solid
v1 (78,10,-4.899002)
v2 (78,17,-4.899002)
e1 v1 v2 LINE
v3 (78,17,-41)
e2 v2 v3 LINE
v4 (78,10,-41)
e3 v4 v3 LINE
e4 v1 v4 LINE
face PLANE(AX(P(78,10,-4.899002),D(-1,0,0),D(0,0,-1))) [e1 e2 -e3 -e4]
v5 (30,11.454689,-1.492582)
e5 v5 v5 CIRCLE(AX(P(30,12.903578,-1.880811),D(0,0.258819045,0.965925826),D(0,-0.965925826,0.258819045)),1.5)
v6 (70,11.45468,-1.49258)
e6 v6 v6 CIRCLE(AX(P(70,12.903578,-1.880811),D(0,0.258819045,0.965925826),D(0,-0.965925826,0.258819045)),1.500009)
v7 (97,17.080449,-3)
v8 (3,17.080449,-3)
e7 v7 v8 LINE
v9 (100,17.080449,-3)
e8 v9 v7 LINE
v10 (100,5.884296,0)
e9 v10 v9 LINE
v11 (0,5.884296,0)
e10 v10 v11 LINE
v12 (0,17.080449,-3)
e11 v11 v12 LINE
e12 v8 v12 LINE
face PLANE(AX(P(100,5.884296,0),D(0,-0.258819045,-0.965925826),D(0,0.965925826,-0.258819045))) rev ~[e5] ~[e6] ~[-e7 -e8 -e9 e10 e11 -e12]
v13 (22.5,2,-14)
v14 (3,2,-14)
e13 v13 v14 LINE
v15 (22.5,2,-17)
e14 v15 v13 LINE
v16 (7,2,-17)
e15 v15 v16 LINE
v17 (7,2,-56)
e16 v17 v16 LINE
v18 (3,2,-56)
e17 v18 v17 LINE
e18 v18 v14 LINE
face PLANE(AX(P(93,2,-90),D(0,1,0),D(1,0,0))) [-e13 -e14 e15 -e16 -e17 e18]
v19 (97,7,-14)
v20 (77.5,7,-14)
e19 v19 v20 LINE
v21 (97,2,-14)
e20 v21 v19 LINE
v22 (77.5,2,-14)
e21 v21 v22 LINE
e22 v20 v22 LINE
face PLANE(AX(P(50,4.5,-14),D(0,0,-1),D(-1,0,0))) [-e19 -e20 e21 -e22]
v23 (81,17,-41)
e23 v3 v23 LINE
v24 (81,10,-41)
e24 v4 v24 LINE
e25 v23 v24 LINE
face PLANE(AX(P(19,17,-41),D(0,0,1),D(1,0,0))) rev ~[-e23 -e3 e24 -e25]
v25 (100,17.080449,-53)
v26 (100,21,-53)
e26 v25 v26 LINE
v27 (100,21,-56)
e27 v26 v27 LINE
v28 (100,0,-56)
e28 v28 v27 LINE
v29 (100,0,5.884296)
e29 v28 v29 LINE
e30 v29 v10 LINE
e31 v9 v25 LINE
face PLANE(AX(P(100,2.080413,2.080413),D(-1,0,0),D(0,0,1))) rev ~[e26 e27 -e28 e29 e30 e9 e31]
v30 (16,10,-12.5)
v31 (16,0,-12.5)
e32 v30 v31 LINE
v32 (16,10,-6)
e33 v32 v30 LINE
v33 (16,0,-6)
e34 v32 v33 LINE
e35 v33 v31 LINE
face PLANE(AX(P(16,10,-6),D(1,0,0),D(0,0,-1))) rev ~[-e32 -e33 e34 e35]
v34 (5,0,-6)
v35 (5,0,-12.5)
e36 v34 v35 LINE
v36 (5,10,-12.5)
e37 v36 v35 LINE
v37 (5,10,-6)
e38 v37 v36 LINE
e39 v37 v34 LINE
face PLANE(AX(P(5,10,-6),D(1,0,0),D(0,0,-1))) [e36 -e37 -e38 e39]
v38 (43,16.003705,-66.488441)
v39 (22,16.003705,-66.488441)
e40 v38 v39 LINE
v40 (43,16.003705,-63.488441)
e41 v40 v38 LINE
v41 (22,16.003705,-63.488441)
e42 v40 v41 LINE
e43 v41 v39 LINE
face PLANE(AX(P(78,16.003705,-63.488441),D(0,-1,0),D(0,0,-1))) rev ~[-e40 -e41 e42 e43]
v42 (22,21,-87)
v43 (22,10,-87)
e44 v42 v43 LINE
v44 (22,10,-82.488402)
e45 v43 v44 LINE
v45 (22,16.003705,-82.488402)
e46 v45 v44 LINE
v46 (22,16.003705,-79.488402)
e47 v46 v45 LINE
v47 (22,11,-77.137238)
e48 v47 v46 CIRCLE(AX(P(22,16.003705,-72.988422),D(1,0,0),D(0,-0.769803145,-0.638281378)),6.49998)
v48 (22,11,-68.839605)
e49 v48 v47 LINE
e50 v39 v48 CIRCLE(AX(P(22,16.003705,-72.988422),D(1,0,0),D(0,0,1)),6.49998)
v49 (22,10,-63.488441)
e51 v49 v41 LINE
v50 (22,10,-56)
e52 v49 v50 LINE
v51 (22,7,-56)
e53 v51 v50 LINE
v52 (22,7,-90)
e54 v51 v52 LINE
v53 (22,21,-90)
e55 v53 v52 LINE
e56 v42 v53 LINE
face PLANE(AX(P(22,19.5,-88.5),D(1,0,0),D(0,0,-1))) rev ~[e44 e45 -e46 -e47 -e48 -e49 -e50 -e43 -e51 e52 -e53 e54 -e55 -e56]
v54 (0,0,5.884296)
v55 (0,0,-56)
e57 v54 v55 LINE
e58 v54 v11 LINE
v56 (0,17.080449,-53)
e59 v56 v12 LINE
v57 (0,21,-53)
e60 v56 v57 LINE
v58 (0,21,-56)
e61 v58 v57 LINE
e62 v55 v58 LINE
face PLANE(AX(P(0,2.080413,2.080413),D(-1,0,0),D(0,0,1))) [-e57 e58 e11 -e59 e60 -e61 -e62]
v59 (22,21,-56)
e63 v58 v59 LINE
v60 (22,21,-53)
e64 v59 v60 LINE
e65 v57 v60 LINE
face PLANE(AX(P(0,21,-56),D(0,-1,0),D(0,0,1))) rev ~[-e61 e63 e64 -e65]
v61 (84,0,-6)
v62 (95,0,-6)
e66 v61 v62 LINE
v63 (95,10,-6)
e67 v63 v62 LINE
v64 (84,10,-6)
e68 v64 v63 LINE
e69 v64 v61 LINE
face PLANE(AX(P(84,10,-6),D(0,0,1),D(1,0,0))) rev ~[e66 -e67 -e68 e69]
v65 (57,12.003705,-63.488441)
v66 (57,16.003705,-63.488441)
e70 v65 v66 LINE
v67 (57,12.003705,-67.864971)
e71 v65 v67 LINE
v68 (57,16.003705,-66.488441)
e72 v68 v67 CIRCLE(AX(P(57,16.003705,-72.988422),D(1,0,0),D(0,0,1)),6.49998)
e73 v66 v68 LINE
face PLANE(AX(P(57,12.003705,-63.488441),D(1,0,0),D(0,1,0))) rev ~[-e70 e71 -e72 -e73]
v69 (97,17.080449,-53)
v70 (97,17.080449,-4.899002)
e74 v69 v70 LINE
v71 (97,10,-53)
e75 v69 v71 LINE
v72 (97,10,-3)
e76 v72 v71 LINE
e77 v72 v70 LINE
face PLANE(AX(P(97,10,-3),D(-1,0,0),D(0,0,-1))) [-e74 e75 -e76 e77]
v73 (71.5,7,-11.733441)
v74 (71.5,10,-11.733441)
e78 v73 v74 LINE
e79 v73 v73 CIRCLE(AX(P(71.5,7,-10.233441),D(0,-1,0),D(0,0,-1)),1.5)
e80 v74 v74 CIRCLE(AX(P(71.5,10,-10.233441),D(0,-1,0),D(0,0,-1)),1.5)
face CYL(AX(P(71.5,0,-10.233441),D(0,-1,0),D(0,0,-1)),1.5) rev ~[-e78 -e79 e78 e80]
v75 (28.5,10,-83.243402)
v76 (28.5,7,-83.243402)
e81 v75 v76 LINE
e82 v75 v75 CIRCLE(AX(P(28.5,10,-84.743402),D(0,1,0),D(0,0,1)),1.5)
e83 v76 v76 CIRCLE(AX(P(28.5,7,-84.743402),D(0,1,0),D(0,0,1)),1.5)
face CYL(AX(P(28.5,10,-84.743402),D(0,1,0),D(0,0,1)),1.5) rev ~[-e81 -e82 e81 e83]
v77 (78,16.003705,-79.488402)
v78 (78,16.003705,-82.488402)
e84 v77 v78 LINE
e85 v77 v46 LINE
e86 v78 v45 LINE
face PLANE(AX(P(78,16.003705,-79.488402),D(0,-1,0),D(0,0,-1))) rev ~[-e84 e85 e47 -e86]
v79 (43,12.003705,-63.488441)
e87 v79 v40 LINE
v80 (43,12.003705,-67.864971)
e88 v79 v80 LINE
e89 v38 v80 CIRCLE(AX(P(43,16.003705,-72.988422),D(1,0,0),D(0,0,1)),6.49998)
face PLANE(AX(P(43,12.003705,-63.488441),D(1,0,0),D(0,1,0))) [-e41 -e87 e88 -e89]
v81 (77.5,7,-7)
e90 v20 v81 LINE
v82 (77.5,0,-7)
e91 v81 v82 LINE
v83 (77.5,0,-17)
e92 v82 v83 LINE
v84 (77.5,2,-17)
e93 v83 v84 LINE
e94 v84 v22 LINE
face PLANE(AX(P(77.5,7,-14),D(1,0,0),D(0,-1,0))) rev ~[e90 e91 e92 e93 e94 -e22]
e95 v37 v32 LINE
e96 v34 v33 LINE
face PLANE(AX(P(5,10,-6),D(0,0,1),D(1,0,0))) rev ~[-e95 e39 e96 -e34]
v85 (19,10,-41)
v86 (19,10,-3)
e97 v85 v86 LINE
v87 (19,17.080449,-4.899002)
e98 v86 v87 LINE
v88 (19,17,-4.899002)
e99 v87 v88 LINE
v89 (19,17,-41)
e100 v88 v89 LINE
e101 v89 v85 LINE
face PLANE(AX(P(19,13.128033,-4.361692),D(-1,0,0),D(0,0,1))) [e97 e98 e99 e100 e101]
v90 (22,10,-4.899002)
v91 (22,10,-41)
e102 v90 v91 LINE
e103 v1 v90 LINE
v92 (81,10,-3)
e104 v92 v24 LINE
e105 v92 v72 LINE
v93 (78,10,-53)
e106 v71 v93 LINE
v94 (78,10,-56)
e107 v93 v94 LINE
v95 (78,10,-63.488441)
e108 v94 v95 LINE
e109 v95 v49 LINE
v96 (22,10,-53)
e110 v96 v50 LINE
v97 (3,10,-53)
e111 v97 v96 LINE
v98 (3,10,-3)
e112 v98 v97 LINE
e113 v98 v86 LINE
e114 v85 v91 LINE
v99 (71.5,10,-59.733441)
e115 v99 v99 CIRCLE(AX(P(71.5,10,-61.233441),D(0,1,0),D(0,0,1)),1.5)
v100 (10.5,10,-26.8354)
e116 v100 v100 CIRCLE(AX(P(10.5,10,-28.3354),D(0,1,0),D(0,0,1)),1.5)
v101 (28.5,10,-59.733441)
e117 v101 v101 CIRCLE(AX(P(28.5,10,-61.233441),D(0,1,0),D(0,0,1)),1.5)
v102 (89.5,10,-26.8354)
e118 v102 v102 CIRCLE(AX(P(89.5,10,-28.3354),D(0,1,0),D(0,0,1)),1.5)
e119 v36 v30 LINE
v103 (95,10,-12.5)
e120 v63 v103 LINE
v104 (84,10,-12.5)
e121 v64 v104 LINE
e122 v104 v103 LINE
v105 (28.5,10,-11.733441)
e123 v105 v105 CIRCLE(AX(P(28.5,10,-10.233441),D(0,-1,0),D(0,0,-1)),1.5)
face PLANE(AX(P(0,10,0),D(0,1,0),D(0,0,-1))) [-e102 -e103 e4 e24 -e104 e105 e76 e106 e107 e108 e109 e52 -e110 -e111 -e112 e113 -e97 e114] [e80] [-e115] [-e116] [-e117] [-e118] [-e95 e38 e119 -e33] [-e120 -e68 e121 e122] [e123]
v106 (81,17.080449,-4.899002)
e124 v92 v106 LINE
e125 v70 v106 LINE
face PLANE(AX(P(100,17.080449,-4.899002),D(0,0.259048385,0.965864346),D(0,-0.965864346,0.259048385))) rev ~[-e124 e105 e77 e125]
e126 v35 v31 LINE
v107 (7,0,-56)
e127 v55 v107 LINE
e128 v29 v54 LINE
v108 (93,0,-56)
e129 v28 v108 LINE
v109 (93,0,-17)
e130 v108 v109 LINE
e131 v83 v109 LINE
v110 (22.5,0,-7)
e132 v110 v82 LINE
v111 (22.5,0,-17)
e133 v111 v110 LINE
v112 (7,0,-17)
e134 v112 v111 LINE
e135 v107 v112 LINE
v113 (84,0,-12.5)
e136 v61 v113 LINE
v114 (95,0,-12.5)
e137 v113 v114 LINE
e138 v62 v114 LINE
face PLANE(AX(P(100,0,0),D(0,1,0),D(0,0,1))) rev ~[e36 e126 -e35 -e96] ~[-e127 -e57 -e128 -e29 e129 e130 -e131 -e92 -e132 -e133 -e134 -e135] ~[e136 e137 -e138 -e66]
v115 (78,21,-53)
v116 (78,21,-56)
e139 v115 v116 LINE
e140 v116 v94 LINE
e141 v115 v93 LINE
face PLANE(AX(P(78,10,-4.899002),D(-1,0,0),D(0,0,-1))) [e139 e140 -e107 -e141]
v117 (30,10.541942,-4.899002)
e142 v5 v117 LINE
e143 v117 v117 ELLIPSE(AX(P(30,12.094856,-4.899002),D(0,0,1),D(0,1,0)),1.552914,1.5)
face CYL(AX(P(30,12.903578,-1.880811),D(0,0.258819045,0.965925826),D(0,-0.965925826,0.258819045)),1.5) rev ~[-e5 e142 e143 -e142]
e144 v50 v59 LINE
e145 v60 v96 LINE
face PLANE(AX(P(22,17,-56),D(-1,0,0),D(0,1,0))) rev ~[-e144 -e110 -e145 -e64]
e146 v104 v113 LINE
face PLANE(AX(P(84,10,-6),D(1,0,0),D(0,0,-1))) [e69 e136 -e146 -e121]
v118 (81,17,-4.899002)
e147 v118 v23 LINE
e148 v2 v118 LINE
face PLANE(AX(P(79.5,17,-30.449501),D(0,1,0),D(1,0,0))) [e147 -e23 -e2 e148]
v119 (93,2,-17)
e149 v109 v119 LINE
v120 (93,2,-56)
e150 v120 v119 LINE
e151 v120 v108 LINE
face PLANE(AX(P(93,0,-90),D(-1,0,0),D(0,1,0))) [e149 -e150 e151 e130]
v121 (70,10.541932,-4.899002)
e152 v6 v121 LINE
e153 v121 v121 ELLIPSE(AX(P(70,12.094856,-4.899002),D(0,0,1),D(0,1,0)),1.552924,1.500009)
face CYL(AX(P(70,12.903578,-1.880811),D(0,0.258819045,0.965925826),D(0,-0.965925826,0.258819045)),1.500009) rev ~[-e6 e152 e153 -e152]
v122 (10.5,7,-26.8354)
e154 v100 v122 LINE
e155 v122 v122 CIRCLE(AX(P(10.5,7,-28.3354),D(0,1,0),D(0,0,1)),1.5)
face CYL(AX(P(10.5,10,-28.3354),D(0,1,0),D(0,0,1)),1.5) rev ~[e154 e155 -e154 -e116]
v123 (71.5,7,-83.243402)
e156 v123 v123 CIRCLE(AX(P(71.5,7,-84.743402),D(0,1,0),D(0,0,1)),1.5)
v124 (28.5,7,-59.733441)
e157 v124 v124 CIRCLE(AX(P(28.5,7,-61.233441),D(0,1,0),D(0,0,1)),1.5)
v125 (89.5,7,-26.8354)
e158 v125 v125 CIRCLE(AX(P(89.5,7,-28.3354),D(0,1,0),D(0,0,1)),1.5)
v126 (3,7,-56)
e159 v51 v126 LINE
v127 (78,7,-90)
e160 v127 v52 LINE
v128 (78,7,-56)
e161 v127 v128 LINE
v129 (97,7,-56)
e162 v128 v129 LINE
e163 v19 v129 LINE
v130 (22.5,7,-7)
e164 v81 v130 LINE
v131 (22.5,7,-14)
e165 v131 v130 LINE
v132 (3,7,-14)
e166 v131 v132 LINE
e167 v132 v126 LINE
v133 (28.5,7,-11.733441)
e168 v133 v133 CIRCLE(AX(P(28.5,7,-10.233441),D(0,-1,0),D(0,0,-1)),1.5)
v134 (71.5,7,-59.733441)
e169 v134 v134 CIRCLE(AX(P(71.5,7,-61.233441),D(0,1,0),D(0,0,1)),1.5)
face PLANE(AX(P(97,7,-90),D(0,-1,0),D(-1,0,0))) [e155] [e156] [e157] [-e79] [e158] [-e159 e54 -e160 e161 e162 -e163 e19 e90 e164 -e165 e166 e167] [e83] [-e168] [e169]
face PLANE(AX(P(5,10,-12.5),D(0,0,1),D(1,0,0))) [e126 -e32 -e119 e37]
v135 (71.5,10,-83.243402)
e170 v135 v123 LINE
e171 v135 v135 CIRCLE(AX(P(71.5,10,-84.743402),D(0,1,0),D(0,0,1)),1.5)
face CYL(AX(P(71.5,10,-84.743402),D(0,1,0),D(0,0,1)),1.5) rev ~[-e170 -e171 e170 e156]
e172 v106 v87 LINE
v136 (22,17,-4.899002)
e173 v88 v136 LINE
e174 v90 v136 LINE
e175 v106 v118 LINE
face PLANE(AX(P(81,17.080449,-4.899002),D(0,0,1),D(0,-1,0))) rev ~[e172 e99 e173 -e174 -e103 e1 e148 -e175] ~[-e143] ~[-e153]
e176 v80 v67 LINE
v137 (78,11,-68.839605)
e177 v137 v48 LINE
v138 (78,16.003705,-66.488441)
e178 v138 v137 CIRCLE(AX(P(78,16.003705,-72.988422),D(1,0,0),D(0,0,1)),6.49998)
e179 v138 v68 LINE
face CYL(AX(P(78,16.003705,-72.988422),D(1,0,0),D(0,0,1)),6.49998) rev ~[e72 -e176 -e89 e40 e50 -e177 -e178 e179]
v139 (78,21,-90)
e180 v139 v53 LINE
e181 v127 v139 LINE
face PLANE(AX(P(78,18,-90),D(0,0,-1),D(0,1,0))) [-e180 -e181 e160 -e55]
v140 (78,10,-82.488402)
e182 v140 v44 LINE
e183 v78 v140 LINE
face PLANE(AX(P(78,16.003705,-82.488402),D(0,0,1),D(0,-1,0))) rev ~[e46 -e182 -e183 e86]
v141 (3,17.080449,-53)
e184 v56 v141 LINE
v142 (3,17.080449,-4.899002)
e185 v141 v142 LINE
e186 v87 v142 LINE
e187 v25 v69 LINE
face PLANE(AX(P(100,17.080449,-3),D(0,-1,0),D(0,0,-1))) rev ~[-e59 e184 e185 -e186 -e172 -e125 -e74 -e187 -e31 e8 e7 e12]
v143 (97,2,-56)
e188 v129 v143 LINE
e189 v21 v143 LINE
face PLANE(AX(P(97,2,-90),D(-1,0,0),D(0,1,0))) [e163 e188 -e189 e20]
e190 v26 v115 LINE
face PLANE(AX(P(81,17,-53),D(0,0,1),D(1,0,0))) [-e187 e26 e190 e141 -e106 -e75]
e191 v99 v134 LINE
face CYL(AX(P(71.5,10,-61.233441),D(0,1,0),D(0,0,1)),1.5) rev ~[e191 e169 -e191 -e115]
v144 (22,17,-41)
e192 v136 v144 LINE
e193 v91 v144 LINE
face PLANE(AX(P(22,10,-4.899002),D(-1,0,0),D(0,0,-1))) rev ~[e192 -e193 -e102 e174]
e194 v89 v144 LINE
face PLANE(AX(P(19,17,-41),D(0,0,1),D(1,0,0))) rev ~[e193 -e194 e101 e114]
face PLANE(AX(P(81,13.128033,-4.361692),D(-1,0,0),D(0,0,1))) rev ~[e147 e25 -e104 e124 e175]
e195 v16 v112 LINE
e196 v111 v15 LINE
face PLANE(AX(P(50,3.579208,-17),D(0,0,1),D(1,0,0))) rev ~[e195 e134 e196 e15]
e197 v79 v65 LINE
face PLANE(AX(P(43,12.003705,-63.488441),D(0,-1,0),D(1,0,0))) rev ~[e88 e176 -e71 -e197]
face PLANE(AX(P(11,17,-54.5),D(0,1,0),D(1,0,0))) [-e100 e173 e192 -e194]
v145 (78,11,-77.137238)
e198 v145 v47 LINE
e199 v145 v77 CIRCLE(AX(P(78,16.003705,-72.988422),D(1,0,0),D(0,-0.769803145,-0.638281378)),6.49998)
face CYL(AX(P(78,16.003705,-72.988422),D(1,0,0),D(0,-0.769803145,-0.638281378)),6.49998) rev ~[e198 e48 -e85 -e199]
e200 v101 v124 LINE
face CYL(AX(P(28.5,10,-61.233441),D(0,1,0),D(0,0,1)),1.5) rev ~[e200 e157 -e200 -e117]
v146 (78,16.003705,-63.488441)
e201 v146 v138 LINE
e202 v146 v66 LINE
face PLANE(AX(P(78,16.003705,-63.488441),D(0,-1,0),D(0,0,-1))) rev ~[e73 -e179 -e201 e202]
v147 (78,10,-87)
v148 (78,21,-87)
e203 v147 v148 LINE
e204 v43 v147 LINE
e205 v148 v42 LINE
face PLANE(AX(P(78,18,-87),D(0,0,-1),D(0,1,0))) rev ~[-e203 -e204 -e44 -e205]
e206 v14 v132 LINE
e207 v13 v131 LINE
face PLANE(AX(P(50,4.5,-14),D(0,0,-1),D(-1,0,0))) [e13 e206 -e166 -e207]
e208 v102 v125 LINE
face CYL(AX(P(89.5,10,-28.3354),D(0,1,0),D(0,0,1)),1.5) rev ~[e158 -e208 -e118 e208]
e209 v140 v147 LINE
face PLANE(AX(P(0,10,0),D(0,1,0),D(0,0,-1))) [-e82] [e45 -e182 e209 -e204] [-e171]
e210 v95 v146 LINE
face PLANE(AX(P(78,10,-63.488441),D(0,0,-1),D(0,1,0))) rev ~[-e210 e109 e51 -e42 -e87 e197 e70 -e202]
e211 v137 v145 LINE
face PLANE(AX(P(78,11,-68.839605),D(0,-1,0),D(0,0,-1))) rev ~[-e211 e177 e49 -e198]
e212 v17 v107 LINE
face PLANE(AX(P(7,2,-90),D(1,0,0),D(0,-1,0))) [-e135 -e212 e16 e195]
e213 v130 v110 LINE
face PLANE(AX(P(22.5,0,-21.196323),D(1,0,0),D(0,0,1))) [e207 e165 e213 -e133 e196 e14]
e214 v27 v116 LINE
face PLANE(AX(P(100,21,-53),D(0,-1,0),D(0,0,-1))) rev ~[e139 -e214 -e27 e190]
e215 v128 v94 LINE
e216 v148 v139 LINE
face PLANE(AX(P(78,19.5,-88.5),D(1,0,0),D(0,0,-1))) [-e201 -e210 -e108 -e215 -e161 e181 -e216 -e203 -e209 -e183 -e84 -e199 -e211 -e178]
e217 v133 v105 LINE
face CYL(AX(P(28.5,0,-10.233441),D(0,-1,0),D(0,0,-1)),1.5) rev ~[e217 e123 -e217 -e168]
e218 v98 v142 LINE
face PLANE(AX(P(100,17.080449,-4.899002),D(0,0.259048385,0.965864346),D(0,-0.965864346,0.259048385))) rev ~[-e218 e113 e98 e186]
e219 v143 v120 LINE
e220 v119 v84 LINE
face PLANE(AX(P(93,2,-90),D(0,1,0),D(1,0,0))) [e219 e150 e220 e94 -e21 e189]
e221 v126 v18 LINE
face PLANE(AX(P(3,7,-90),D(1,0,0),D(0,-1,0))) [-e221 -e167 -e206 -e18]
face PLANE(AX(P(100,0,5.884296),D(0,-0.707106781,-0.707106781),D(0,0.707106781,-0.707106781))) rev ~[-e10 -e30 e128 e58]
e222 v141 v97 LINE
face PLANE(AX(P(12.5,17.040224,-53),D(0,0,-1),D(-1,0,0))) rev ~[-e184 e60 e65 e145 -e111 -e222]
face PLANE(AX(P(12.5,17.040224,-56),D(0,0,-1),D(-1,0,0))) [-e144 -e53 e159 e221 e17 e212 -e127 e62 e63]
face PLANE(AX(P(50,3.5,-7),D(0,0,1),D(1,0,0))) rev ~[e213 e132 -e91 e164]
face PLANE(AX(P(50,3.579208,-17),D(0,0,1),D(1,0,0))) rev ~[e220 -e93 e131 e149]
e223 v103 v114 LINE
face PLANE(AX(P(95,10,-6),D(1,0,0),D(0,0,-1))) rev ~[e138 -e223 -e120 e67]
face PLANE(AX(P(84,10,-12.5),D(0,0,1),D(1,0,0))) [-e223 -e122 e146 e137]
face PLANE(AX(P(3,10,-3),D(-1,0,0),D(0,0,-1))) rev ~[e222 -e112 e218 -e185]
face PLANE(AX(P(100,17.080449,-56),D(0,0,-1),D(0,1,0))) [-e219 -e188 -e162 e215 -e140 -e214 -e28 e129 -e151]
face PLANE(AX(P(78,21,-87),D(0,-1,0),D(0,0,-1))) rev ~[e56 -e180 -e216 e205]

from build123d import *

# Parameters (mm, degrees)
ESBO_O1_W                 = 90
ESBO_O1_H                 = 10
RESSALTO_EXTRUS_O1_DEPTH  = 100
CORTE_EXTRUS_O1_DEPTH     = 73
ESBO_O5_W                 = 11
ESBO_O5_H                 = 6.5
CORTE_EXTRUS_O2_DEPTH     = 135.907375632
ESBO_O8_W                 = 94
ESBO_O8_H                 = 5
CORTE_EXTRUS_O3_DEPTH     = 3
ESBO_O9_W                 = 94
ESBO_O9_H                 = 84
RESSALTO_EXTRUS_O2_DEPTH  = 8
ESBO_O10_W                = 34
ESBO_O10_H                = 18
CORTE_EXTRUS_O4_DEPTH     = 22
ESBO_O11_W                = 34
ESBO_O11_H                = 18
CORTE_EXTRUS_O5_DEPTH     = 22
CORTE_EXTRUS_O8_DEPTH     = 100
ESBO_O19_W                = 53
ESBO_O19_H                = 0.919551387
CORTE_EXTRUS_O10_DEPTH    = 136.735036008
RESSALTO_EXTRUS_O4_DEPTH  = 56
ESBO_O21_W                = 3
ESBO_O21_H                = 3
RESSALTO_EXTRUS_O5_DEPTH  = 56
RESSALTO_EXTRUS_O6_DEPTH  = 100
ESBO_O25_R                = 1.5
CORTE_EXTRUS_O11_DEPTH    = 135.985184372
ESBO_O26_R                = 1.5
CORTE_EXTRUS_O14_DEPTH    = 135.985184372
ESBO_O28_W                = 3
ESBO_O28_H                = 51.10099753
RESSALTO_EXTRUS_O7_DEPTH  = 7
RESSALTO_EXTRUS_O8_DEPTH  = 62
ESBO_O30_W                = 16
ESBO_O30_H                = 3
RESSALTO_EXTRUS_O9_DEPTH  = 7
ESBO_O31_W                = 62
ESBO_O31_H                = 12
CORTE_EXTRUS_O15_DEPTH    = 7
ESBO_O33_W                = 3
ESBO_O33_H                = 3.919551387
RESSALTO_EXTRUS_O11_DEPTH = 22
ESBO_O34_W                = 3
ESBO_O34_H                = 3.919551387
RESSALTO_EXTRUS_O12_DEPTH = 22
ESBO_O35_W                = 19
ESBO_O35_H                = 0.080448613
RESSALTO_EXTRUS_O13_DEPTH = 3
ESBO_O36_R                = 1.5
CORTE_EXTRUS_O16_DEPTH    = 135.985184372
ESBO_O37_W                = 14
ESBO_O37_H                = 4
CORTE_EXTRUS_O17_DEPTH    = 6
RESSALTO_EXTRUS_O14_DEPTH = 100
ESBO_O39_R                = 1.5
ESBO_O39_R_2              = 1.500009338
CORTE_EXTRUS_O18_DEPTH    = 4
ESBO_O40_R                = 1.5
CORTE_EXTRUS_O19_DEPTH    = 10
CORTE_EXTRUS_O21_DEPTH    = 7
ESBO_O43_W                = 55
ESBO_O43_H                = 14.196322654
CORTE_EXTRUS_O23_DEPTH    = 2


with BuildPart() as part:
    # Esboço1 → Ressalto-extrusão1 (new body)
    with BuildSketch(Plane(origin=(0, 0, 0), x_dir=(0, 0, -1), z_dir=(1, 0, 0))):
        with Locations((45, 5)):
            Rectangle(ESBO_O1_W, ESBO_O1_H)
    extrude(amount=RESSALTO_EXTRUS_O1_DEPTH)

    # Esboço3 → Corte-extrusão1 (cut)
    with BuildSketch(Plane(origin=(0, 0, -90), x_dir=(-1, 0, 0), z_dir=(0, 0, -1))):
        Polygon((-93, 0), (-93, 2), (-97, 2), (-97, 7), (-3, 7), (-3, 2), (-7, 2), (-7, 0), align=None)
    extrude(amount=-CORTE_EXTRUS_O1_DEPTH, mode=Mode.SUBTRACT)

    # Esboço5 → Corte-extrusão2 (cut, through all)
    with BuildSketch(Plane(origin=(0, 10, 0), x_dir=(1, 0, 0), z_dir=(0, 1, 0))):
        with Locations((10.5, 9.25)):
            Rectangle(ESBO_O5_W, ESBO_O5_H)
        with Locations((89.5, 9.25)):
            Rectangle(ESBO_O5_W, ESBO_O5_H)
    extrude(amount=-CORTE_EXTRUS_O2_DEPTH, mode=Mode.SUBTRACT)

    # Esboço8 → Corte-extrusão3 (cut)
    with BuildSketch(Plane(origin=(0, 0, -17), x_dir=(-1, 0, 0), z_dir=(0, 0, -1))):
        with Locations((-50, 4.5)):
            Rectangle(ESBO_O8_W, ESBO_O8_H)
    extrude(amount=-CORTE_EXTRUS_O3_DEPTH, mode=Mode.SUBTRACT)

    # Esboço9 → Ressalto-extrusão2 (add)
    with BuildSketch(Plane(origin=(0, 10, 0), x_dir=(1, 0, 0), z_dir=(0, 1, 0))):
        Polygon((0, 1.678302474), (0, 0), (2, 0), (100, 0), (100, 1.678302474), (100, 90), (97, 90), (3, 90), (0, 90), align=None)
        with Locations((50, 45)):
            Rectangle(ESBO_O9_W, ESBO_O9_H, mode=Mode.SUBTRACT)
    extrude(amount=RESSALTO_EXTRUS_O2_DEPTH)

    # Esboço10 → Corte-extrusão4 (cut)
    with BuildSketch(Plane.ZY):
        with Locations((-73, 9)):
            Rectangle(ESBO_O10_W, ESBO_O10_H)
    extrude(amount=-CORTE_EXTRUS_O4_DEPTH, mode=Mode.SUBTRACT)

    # Esboço11 → Corte-extrusão5 (cut)
    with BuildSketch(Plane(origin=(100, 0, 0), x_dir=(0, 0, -1), z_dir=(1, 0, 0))):
        with Locations((73, 9)):
            Rectangle(ESBO_O11_W, ESBO_O11_H)
    extrude(amount=-CORTE_EXTRUS_O5_DEPTH, mode=Mode.SUBTRACT)

    # Esboço15 → Corte-extrusão8 (cut)
    with BuildSketch(Plane(origin=(100, 0, 0), x_dir=(0, 0, -1), z_dir=(1, 0, 0))):
        Polygon((0, 5.88429619), (3.246393052, 18), (0, 18), align=None)
    extrude(amount=-CORTE_EXTRUS_O8_DEPTH, mode=Mode.SUBTRACT)

    # Esboço19 → Corte-extrusão10 (cut, through all)
    with BuildSketch(Plane(origin=(100, 0, 0), x_dir=(0, 0, -1), z_dir=(1, 0, 0))):
        with Locations((29.5, 17.540224307)):
            Rectangle(ESBO_O19_W, ESBO_O19_H)
    extrude(amount=-CORTE_EXTRUS_O10_DEPTH, mode=Mode.SUBTRACT)

    # Esboço20 → Ressalto-extrusão4 (add)
    with BuildSketch(Plane(origin=(78, 0, 0), x_dir=(0, 0, -1), z_dir=(1, 0, 0))):
        with BuildLine():
            Line((68.839605241, 11), (77.137237802, 11))
            ThreePointArc((77.137237802, 11), (78.871318989, 13.239422392), (79.48840166, 16.003705155))
            Line((79.48840166, 16.003705155), (82.48840166, 16.003705155))
            Line((82.48840166, 16.003705155), (82.48840166, 14))
            Line((82.48840166, 14), (82.48840166, 13))
            Line((82.48840166, 13), (82.48840166, 10))
            Line((82.48840166, 10), (81.830476132, 10))
            Line((81.830476132, 10), (63.488441382, 10))
            Line((63.488441382, 10), (63.488441382, 14))
            Line((63.488441382, 14), (63.488441382, 16.003705155))
            Line((63.488441382, 16.003705155), (66.488441382, 16.003705155))
            ThreePointArc((66.488441382, 16.003705155), (67.105524053, 13.239422392), (68.839605241, 11))
        make_face()
    extrude(amount=-RESSALTO_EXTRUS_O4_DEPTH)

    # Esboço21 → Ressalto-extrusão5 (add)
    with BuildSketch(Plane(origin=(78, 0, 0), x_dir=(0, 0, -1), z_dir=(1, 0, 0))):
        with Locations((88.5, 19.5)):
            Rectangle(ESBO_O21_W, ESBO_O21_H)
    extrude(amount=-RESSALTO_EXTRUS_O5_DEPTH)

    # Esboço22 → Ressalto-extrusão6 (add)
    with BuildSketch(Plane(origin=(100, 0, 0), x_dir=(0, 0, -1), z_dir=(1, 0, 0))):
        Polygon((4.89900247, 17.080448613), (3, 10), (3, 17.080448613), align=None)
    extrude(amount=-RESSALTO_EXTRUS_O6_DEPTH)

    # Esboço25 → Corte-extrusão11 (cut, through all)
    with BuildSketch(Plane(origin=(0, 10, 0), x_dir=(1, 0, 0), z_dir=(0, 1, 0))):
        with Locations(Location((10.5, 28.335399636, 0), (0, 0, 270))):
            Circle(ESBO_O25_R)
    extrude(amount=-CORTE_EXTRUS_O11_DEPTH, mode=Mode.SUBTRACT)

    # Esboço26 → Corte-extrusão14 (cut, through all)
    with BuildSketch(Plane(origin=(0, 10, 0), x_dir=(1, 0, 0), z_dir=(0, 1, 0))):
        with Locations(Location((89.5, 28.335399636, 0), (0, 0, 270))):
            Circle(ESBO_O26_R)
    extrude(amount=-CORTE_EXTRUS_O14_DEPTH, mode=Mode.SUBTRACT)

    # Esboço28 → Ressalto-extrusão7 (add)
    with BuildSketch(Plane(origin=(0, 10, 0), x_dir=(1, 0, 0), z_dir=(0, 1, 0))):
        with Locations((20.5, 30.449501235)):
            Rectangle(ESBO_O28_W, ESBO_O28_H)
        with Locations((79.5, 30.449501235)):
            Rectangle(ESBO_O28_W, ESBO_O28_H)
    extrude(amount=RESSALTO_EXTRUS_O7_DEPTH)

    # Esboço29 → Ressalto-extrusão8 (add)
    with BuildSketch(Plane(origin=(81, 0, 0), x_dir=(0, 0, -1), z_dir=(1, 0, 0))):
        Polygon((4.89900247, 10), (3, 10), (4.89900247, 17.080448613), align=None)
    extrude(amount=-RESSALTO_EXTRUS_O8_DEPTH)

    # Esboço30 → Ressalto-extrusão9 (add)
    with BuildSketch(Plane(origin=(0, 17, 0), x_dir=(1, 0, 0), z_dir=(0, 1, 0))):
        with Locations((11, 54.5)):
            Rectangle(ESBO_O30_W, ESBO_O30_H)
        with Locations((89, 54.5)):
            Rectangle(ESBO_O30_W, ESBO_O30_H)
    extrude(amount=-RESSALTO_EXTRUS_O9_DEPTH)

    # Esboço31 → Corte-extrusão15 (cut)
    with BuildSketch(Plane(origin=(0, 17, 0), x_dir=(1, 0, 0), z_dir=(0, 1, 0))):
        with Locations((50, 47)):
            Rectangle(ESBO_O31_W, ESBO_O31_H)
    extrude(amount=-CORTE_EXTRUS_O15_DEPTH, mode=Mode.SUBTRACT)

    # Esboço33 → Ressalto-extrusão11 (add)
    with BuildSketch(Plane(origin=(100, 0, 0), x_dir=(0, 0, -1), z_dir=(1, 0, 0))):
        with Locations((54.5, 19.040224307)):
            Rectangle(ESBO_O33_W, ESBO_O33_H)
    extrude(amount=-RESSALTO_EXTRUS_O11_DEPTH)

    # Esboço34 → Ressalto-extrusão12 (add)
    with BuildSketch(Plane.ZY):
        with Locations((-54.5, 19.040224307)):
            Rectangle(ESBO_O34_W, ESBO_O34_H)
    extrude(amount=-RESSALTO_EXTRUS_O12_DEPTH)

    # Esboço35 → Ressalto-extrusão13 (add)
    with BuildSketch(Plane(origin=(0, 0, -56), x_dir=(-1, 0, 0), z_dir=(0, 0, -1))):
        with Locations((-12.5, 17.040224307)):
            Rectangle(ESBO_O35_W, ESBO_O35_H)
        with Locations((-87.5, 17.040224307)):
            Rectangle(ESBO_O35_W, ESBO_O35_H)
    extrude(amount=-RESSALTO_EXTRUS_O13_DEPTH)

    # Esboço36 → Corte-extrusão16 (cut, through all)
    with BuildSketch(Plane(origin=(0, 10, 0), x_dir=(1, 0, 0), z_dir=(0, 1, 0))):
        with Locations(Location((71.5, 61.233441382, 0), (0, 0, 270))):
            Circle(ESBO_O36_R)
        with Locations(Location((28.5, 61.233441382, 0), (0, 0, 270))):
            Circle(ESBO_O36_R)
        with Locations(Location((71.5, 84.74340166, 0), (0, 0, 270))):
            Circle(ESBO_O36_R)
        with Locations(Location((28.5, 84.74340166, 0), (0, 0, 270))):
            Circle(ESBO_O36_R)
    extrude(amount=-CORTE_EXTRUS_O16_DEPTH, mode=Mode.SUBTRACT)

    # Esboço37 → Corte-extrusão17 (cut)
    with BuildSketch(Plane.XY.offset(-63.488441382)):
        with Locations((50, 14.003705155)):
            Rectangle(ESBO_O37_W, ESBO_O37_H)
    extrude(amount=-CORTE_EXTRUS_O17_DEPTH, mode=Mode.SUBTRACT)

    # Esboço38 → Ressalto-extrusão14 (add, through all)
    with BuildSketch(Plane(origin=(100, 0, 0), x_dir=(0, 0, -1), z_dir=(1, 0, 0))):
        Polygon((0, 0), (-5.88429619, 0), (0, 5.88429619), align=None)
    extrude(amount=-RESSALTO_EXTRUS_O14_DEPTH)

    # Esboço39 → Corte-extrusão18 (cut)
    with BuildSketch(Plane(origin=(0, 0.394173103, 1.471074047), x_dir=(1, 0, 0), z_dir=(0, 0.258819045102519, 0.9659258262890689))):
        with Locations(Location((30, 12.950688916, 0), (0, 0, 270))):
            Circle(ESBO_O39_R)
        with Locations(Location((70, 12.950688916, 0), (0, 0, 270))):
            Circle(ESBO_O39_R_2)
    extrude(amount=-CORTE_EXTRUS_O18_DEPTH, mode=Mode.SUBTRACT)

    # Esboço40 → Corte-extrusão19 (cut)
    with BuildSketch(Plane.XZ):
        with Locations(Location((28.5, -10.233441382, 0), (0, 0, 270))):
            Circle(ESBO_O40_R)
        with Locations(Location((71.5, -10.233441382, 0), (0, 0, 270))):
            Circle(ESBO_O40_R)
    extrude(amount=-CORTE_EXTRUS_O19_DEPTH, mode=Mode.SUBTRACT)

    # Esboço42 → Corte-extrusão21 (cut)
    with BuildSketch(Plane(origin=(0, 0, -14), x_dir=(-1, 0, 0), z_dir=(0, 0, -1))):
        Polygon((-77.5, 7), (-22.5, 7), (-22.5, 2), (-22.5, 0), (-77.5, 0), (-77.5, 2), align=None)
    extrude(amount=-CORTE_EXTRUS_O21_DEPTH, mode=Mode.SUBTRACT)

    # Esboço43 → Corte-extrusão23 (cut)
    with BuildSketch(Plane.XZ):
        with Locations((50, -14.098161327)):
            Rectangle(ESBO_O43_W, ESBO_O43_H)
    extrude(amount=-CORTE_EXTRUS_O23_DEPTH, mode=Mode.SUBTRACT)


solid = part.part
